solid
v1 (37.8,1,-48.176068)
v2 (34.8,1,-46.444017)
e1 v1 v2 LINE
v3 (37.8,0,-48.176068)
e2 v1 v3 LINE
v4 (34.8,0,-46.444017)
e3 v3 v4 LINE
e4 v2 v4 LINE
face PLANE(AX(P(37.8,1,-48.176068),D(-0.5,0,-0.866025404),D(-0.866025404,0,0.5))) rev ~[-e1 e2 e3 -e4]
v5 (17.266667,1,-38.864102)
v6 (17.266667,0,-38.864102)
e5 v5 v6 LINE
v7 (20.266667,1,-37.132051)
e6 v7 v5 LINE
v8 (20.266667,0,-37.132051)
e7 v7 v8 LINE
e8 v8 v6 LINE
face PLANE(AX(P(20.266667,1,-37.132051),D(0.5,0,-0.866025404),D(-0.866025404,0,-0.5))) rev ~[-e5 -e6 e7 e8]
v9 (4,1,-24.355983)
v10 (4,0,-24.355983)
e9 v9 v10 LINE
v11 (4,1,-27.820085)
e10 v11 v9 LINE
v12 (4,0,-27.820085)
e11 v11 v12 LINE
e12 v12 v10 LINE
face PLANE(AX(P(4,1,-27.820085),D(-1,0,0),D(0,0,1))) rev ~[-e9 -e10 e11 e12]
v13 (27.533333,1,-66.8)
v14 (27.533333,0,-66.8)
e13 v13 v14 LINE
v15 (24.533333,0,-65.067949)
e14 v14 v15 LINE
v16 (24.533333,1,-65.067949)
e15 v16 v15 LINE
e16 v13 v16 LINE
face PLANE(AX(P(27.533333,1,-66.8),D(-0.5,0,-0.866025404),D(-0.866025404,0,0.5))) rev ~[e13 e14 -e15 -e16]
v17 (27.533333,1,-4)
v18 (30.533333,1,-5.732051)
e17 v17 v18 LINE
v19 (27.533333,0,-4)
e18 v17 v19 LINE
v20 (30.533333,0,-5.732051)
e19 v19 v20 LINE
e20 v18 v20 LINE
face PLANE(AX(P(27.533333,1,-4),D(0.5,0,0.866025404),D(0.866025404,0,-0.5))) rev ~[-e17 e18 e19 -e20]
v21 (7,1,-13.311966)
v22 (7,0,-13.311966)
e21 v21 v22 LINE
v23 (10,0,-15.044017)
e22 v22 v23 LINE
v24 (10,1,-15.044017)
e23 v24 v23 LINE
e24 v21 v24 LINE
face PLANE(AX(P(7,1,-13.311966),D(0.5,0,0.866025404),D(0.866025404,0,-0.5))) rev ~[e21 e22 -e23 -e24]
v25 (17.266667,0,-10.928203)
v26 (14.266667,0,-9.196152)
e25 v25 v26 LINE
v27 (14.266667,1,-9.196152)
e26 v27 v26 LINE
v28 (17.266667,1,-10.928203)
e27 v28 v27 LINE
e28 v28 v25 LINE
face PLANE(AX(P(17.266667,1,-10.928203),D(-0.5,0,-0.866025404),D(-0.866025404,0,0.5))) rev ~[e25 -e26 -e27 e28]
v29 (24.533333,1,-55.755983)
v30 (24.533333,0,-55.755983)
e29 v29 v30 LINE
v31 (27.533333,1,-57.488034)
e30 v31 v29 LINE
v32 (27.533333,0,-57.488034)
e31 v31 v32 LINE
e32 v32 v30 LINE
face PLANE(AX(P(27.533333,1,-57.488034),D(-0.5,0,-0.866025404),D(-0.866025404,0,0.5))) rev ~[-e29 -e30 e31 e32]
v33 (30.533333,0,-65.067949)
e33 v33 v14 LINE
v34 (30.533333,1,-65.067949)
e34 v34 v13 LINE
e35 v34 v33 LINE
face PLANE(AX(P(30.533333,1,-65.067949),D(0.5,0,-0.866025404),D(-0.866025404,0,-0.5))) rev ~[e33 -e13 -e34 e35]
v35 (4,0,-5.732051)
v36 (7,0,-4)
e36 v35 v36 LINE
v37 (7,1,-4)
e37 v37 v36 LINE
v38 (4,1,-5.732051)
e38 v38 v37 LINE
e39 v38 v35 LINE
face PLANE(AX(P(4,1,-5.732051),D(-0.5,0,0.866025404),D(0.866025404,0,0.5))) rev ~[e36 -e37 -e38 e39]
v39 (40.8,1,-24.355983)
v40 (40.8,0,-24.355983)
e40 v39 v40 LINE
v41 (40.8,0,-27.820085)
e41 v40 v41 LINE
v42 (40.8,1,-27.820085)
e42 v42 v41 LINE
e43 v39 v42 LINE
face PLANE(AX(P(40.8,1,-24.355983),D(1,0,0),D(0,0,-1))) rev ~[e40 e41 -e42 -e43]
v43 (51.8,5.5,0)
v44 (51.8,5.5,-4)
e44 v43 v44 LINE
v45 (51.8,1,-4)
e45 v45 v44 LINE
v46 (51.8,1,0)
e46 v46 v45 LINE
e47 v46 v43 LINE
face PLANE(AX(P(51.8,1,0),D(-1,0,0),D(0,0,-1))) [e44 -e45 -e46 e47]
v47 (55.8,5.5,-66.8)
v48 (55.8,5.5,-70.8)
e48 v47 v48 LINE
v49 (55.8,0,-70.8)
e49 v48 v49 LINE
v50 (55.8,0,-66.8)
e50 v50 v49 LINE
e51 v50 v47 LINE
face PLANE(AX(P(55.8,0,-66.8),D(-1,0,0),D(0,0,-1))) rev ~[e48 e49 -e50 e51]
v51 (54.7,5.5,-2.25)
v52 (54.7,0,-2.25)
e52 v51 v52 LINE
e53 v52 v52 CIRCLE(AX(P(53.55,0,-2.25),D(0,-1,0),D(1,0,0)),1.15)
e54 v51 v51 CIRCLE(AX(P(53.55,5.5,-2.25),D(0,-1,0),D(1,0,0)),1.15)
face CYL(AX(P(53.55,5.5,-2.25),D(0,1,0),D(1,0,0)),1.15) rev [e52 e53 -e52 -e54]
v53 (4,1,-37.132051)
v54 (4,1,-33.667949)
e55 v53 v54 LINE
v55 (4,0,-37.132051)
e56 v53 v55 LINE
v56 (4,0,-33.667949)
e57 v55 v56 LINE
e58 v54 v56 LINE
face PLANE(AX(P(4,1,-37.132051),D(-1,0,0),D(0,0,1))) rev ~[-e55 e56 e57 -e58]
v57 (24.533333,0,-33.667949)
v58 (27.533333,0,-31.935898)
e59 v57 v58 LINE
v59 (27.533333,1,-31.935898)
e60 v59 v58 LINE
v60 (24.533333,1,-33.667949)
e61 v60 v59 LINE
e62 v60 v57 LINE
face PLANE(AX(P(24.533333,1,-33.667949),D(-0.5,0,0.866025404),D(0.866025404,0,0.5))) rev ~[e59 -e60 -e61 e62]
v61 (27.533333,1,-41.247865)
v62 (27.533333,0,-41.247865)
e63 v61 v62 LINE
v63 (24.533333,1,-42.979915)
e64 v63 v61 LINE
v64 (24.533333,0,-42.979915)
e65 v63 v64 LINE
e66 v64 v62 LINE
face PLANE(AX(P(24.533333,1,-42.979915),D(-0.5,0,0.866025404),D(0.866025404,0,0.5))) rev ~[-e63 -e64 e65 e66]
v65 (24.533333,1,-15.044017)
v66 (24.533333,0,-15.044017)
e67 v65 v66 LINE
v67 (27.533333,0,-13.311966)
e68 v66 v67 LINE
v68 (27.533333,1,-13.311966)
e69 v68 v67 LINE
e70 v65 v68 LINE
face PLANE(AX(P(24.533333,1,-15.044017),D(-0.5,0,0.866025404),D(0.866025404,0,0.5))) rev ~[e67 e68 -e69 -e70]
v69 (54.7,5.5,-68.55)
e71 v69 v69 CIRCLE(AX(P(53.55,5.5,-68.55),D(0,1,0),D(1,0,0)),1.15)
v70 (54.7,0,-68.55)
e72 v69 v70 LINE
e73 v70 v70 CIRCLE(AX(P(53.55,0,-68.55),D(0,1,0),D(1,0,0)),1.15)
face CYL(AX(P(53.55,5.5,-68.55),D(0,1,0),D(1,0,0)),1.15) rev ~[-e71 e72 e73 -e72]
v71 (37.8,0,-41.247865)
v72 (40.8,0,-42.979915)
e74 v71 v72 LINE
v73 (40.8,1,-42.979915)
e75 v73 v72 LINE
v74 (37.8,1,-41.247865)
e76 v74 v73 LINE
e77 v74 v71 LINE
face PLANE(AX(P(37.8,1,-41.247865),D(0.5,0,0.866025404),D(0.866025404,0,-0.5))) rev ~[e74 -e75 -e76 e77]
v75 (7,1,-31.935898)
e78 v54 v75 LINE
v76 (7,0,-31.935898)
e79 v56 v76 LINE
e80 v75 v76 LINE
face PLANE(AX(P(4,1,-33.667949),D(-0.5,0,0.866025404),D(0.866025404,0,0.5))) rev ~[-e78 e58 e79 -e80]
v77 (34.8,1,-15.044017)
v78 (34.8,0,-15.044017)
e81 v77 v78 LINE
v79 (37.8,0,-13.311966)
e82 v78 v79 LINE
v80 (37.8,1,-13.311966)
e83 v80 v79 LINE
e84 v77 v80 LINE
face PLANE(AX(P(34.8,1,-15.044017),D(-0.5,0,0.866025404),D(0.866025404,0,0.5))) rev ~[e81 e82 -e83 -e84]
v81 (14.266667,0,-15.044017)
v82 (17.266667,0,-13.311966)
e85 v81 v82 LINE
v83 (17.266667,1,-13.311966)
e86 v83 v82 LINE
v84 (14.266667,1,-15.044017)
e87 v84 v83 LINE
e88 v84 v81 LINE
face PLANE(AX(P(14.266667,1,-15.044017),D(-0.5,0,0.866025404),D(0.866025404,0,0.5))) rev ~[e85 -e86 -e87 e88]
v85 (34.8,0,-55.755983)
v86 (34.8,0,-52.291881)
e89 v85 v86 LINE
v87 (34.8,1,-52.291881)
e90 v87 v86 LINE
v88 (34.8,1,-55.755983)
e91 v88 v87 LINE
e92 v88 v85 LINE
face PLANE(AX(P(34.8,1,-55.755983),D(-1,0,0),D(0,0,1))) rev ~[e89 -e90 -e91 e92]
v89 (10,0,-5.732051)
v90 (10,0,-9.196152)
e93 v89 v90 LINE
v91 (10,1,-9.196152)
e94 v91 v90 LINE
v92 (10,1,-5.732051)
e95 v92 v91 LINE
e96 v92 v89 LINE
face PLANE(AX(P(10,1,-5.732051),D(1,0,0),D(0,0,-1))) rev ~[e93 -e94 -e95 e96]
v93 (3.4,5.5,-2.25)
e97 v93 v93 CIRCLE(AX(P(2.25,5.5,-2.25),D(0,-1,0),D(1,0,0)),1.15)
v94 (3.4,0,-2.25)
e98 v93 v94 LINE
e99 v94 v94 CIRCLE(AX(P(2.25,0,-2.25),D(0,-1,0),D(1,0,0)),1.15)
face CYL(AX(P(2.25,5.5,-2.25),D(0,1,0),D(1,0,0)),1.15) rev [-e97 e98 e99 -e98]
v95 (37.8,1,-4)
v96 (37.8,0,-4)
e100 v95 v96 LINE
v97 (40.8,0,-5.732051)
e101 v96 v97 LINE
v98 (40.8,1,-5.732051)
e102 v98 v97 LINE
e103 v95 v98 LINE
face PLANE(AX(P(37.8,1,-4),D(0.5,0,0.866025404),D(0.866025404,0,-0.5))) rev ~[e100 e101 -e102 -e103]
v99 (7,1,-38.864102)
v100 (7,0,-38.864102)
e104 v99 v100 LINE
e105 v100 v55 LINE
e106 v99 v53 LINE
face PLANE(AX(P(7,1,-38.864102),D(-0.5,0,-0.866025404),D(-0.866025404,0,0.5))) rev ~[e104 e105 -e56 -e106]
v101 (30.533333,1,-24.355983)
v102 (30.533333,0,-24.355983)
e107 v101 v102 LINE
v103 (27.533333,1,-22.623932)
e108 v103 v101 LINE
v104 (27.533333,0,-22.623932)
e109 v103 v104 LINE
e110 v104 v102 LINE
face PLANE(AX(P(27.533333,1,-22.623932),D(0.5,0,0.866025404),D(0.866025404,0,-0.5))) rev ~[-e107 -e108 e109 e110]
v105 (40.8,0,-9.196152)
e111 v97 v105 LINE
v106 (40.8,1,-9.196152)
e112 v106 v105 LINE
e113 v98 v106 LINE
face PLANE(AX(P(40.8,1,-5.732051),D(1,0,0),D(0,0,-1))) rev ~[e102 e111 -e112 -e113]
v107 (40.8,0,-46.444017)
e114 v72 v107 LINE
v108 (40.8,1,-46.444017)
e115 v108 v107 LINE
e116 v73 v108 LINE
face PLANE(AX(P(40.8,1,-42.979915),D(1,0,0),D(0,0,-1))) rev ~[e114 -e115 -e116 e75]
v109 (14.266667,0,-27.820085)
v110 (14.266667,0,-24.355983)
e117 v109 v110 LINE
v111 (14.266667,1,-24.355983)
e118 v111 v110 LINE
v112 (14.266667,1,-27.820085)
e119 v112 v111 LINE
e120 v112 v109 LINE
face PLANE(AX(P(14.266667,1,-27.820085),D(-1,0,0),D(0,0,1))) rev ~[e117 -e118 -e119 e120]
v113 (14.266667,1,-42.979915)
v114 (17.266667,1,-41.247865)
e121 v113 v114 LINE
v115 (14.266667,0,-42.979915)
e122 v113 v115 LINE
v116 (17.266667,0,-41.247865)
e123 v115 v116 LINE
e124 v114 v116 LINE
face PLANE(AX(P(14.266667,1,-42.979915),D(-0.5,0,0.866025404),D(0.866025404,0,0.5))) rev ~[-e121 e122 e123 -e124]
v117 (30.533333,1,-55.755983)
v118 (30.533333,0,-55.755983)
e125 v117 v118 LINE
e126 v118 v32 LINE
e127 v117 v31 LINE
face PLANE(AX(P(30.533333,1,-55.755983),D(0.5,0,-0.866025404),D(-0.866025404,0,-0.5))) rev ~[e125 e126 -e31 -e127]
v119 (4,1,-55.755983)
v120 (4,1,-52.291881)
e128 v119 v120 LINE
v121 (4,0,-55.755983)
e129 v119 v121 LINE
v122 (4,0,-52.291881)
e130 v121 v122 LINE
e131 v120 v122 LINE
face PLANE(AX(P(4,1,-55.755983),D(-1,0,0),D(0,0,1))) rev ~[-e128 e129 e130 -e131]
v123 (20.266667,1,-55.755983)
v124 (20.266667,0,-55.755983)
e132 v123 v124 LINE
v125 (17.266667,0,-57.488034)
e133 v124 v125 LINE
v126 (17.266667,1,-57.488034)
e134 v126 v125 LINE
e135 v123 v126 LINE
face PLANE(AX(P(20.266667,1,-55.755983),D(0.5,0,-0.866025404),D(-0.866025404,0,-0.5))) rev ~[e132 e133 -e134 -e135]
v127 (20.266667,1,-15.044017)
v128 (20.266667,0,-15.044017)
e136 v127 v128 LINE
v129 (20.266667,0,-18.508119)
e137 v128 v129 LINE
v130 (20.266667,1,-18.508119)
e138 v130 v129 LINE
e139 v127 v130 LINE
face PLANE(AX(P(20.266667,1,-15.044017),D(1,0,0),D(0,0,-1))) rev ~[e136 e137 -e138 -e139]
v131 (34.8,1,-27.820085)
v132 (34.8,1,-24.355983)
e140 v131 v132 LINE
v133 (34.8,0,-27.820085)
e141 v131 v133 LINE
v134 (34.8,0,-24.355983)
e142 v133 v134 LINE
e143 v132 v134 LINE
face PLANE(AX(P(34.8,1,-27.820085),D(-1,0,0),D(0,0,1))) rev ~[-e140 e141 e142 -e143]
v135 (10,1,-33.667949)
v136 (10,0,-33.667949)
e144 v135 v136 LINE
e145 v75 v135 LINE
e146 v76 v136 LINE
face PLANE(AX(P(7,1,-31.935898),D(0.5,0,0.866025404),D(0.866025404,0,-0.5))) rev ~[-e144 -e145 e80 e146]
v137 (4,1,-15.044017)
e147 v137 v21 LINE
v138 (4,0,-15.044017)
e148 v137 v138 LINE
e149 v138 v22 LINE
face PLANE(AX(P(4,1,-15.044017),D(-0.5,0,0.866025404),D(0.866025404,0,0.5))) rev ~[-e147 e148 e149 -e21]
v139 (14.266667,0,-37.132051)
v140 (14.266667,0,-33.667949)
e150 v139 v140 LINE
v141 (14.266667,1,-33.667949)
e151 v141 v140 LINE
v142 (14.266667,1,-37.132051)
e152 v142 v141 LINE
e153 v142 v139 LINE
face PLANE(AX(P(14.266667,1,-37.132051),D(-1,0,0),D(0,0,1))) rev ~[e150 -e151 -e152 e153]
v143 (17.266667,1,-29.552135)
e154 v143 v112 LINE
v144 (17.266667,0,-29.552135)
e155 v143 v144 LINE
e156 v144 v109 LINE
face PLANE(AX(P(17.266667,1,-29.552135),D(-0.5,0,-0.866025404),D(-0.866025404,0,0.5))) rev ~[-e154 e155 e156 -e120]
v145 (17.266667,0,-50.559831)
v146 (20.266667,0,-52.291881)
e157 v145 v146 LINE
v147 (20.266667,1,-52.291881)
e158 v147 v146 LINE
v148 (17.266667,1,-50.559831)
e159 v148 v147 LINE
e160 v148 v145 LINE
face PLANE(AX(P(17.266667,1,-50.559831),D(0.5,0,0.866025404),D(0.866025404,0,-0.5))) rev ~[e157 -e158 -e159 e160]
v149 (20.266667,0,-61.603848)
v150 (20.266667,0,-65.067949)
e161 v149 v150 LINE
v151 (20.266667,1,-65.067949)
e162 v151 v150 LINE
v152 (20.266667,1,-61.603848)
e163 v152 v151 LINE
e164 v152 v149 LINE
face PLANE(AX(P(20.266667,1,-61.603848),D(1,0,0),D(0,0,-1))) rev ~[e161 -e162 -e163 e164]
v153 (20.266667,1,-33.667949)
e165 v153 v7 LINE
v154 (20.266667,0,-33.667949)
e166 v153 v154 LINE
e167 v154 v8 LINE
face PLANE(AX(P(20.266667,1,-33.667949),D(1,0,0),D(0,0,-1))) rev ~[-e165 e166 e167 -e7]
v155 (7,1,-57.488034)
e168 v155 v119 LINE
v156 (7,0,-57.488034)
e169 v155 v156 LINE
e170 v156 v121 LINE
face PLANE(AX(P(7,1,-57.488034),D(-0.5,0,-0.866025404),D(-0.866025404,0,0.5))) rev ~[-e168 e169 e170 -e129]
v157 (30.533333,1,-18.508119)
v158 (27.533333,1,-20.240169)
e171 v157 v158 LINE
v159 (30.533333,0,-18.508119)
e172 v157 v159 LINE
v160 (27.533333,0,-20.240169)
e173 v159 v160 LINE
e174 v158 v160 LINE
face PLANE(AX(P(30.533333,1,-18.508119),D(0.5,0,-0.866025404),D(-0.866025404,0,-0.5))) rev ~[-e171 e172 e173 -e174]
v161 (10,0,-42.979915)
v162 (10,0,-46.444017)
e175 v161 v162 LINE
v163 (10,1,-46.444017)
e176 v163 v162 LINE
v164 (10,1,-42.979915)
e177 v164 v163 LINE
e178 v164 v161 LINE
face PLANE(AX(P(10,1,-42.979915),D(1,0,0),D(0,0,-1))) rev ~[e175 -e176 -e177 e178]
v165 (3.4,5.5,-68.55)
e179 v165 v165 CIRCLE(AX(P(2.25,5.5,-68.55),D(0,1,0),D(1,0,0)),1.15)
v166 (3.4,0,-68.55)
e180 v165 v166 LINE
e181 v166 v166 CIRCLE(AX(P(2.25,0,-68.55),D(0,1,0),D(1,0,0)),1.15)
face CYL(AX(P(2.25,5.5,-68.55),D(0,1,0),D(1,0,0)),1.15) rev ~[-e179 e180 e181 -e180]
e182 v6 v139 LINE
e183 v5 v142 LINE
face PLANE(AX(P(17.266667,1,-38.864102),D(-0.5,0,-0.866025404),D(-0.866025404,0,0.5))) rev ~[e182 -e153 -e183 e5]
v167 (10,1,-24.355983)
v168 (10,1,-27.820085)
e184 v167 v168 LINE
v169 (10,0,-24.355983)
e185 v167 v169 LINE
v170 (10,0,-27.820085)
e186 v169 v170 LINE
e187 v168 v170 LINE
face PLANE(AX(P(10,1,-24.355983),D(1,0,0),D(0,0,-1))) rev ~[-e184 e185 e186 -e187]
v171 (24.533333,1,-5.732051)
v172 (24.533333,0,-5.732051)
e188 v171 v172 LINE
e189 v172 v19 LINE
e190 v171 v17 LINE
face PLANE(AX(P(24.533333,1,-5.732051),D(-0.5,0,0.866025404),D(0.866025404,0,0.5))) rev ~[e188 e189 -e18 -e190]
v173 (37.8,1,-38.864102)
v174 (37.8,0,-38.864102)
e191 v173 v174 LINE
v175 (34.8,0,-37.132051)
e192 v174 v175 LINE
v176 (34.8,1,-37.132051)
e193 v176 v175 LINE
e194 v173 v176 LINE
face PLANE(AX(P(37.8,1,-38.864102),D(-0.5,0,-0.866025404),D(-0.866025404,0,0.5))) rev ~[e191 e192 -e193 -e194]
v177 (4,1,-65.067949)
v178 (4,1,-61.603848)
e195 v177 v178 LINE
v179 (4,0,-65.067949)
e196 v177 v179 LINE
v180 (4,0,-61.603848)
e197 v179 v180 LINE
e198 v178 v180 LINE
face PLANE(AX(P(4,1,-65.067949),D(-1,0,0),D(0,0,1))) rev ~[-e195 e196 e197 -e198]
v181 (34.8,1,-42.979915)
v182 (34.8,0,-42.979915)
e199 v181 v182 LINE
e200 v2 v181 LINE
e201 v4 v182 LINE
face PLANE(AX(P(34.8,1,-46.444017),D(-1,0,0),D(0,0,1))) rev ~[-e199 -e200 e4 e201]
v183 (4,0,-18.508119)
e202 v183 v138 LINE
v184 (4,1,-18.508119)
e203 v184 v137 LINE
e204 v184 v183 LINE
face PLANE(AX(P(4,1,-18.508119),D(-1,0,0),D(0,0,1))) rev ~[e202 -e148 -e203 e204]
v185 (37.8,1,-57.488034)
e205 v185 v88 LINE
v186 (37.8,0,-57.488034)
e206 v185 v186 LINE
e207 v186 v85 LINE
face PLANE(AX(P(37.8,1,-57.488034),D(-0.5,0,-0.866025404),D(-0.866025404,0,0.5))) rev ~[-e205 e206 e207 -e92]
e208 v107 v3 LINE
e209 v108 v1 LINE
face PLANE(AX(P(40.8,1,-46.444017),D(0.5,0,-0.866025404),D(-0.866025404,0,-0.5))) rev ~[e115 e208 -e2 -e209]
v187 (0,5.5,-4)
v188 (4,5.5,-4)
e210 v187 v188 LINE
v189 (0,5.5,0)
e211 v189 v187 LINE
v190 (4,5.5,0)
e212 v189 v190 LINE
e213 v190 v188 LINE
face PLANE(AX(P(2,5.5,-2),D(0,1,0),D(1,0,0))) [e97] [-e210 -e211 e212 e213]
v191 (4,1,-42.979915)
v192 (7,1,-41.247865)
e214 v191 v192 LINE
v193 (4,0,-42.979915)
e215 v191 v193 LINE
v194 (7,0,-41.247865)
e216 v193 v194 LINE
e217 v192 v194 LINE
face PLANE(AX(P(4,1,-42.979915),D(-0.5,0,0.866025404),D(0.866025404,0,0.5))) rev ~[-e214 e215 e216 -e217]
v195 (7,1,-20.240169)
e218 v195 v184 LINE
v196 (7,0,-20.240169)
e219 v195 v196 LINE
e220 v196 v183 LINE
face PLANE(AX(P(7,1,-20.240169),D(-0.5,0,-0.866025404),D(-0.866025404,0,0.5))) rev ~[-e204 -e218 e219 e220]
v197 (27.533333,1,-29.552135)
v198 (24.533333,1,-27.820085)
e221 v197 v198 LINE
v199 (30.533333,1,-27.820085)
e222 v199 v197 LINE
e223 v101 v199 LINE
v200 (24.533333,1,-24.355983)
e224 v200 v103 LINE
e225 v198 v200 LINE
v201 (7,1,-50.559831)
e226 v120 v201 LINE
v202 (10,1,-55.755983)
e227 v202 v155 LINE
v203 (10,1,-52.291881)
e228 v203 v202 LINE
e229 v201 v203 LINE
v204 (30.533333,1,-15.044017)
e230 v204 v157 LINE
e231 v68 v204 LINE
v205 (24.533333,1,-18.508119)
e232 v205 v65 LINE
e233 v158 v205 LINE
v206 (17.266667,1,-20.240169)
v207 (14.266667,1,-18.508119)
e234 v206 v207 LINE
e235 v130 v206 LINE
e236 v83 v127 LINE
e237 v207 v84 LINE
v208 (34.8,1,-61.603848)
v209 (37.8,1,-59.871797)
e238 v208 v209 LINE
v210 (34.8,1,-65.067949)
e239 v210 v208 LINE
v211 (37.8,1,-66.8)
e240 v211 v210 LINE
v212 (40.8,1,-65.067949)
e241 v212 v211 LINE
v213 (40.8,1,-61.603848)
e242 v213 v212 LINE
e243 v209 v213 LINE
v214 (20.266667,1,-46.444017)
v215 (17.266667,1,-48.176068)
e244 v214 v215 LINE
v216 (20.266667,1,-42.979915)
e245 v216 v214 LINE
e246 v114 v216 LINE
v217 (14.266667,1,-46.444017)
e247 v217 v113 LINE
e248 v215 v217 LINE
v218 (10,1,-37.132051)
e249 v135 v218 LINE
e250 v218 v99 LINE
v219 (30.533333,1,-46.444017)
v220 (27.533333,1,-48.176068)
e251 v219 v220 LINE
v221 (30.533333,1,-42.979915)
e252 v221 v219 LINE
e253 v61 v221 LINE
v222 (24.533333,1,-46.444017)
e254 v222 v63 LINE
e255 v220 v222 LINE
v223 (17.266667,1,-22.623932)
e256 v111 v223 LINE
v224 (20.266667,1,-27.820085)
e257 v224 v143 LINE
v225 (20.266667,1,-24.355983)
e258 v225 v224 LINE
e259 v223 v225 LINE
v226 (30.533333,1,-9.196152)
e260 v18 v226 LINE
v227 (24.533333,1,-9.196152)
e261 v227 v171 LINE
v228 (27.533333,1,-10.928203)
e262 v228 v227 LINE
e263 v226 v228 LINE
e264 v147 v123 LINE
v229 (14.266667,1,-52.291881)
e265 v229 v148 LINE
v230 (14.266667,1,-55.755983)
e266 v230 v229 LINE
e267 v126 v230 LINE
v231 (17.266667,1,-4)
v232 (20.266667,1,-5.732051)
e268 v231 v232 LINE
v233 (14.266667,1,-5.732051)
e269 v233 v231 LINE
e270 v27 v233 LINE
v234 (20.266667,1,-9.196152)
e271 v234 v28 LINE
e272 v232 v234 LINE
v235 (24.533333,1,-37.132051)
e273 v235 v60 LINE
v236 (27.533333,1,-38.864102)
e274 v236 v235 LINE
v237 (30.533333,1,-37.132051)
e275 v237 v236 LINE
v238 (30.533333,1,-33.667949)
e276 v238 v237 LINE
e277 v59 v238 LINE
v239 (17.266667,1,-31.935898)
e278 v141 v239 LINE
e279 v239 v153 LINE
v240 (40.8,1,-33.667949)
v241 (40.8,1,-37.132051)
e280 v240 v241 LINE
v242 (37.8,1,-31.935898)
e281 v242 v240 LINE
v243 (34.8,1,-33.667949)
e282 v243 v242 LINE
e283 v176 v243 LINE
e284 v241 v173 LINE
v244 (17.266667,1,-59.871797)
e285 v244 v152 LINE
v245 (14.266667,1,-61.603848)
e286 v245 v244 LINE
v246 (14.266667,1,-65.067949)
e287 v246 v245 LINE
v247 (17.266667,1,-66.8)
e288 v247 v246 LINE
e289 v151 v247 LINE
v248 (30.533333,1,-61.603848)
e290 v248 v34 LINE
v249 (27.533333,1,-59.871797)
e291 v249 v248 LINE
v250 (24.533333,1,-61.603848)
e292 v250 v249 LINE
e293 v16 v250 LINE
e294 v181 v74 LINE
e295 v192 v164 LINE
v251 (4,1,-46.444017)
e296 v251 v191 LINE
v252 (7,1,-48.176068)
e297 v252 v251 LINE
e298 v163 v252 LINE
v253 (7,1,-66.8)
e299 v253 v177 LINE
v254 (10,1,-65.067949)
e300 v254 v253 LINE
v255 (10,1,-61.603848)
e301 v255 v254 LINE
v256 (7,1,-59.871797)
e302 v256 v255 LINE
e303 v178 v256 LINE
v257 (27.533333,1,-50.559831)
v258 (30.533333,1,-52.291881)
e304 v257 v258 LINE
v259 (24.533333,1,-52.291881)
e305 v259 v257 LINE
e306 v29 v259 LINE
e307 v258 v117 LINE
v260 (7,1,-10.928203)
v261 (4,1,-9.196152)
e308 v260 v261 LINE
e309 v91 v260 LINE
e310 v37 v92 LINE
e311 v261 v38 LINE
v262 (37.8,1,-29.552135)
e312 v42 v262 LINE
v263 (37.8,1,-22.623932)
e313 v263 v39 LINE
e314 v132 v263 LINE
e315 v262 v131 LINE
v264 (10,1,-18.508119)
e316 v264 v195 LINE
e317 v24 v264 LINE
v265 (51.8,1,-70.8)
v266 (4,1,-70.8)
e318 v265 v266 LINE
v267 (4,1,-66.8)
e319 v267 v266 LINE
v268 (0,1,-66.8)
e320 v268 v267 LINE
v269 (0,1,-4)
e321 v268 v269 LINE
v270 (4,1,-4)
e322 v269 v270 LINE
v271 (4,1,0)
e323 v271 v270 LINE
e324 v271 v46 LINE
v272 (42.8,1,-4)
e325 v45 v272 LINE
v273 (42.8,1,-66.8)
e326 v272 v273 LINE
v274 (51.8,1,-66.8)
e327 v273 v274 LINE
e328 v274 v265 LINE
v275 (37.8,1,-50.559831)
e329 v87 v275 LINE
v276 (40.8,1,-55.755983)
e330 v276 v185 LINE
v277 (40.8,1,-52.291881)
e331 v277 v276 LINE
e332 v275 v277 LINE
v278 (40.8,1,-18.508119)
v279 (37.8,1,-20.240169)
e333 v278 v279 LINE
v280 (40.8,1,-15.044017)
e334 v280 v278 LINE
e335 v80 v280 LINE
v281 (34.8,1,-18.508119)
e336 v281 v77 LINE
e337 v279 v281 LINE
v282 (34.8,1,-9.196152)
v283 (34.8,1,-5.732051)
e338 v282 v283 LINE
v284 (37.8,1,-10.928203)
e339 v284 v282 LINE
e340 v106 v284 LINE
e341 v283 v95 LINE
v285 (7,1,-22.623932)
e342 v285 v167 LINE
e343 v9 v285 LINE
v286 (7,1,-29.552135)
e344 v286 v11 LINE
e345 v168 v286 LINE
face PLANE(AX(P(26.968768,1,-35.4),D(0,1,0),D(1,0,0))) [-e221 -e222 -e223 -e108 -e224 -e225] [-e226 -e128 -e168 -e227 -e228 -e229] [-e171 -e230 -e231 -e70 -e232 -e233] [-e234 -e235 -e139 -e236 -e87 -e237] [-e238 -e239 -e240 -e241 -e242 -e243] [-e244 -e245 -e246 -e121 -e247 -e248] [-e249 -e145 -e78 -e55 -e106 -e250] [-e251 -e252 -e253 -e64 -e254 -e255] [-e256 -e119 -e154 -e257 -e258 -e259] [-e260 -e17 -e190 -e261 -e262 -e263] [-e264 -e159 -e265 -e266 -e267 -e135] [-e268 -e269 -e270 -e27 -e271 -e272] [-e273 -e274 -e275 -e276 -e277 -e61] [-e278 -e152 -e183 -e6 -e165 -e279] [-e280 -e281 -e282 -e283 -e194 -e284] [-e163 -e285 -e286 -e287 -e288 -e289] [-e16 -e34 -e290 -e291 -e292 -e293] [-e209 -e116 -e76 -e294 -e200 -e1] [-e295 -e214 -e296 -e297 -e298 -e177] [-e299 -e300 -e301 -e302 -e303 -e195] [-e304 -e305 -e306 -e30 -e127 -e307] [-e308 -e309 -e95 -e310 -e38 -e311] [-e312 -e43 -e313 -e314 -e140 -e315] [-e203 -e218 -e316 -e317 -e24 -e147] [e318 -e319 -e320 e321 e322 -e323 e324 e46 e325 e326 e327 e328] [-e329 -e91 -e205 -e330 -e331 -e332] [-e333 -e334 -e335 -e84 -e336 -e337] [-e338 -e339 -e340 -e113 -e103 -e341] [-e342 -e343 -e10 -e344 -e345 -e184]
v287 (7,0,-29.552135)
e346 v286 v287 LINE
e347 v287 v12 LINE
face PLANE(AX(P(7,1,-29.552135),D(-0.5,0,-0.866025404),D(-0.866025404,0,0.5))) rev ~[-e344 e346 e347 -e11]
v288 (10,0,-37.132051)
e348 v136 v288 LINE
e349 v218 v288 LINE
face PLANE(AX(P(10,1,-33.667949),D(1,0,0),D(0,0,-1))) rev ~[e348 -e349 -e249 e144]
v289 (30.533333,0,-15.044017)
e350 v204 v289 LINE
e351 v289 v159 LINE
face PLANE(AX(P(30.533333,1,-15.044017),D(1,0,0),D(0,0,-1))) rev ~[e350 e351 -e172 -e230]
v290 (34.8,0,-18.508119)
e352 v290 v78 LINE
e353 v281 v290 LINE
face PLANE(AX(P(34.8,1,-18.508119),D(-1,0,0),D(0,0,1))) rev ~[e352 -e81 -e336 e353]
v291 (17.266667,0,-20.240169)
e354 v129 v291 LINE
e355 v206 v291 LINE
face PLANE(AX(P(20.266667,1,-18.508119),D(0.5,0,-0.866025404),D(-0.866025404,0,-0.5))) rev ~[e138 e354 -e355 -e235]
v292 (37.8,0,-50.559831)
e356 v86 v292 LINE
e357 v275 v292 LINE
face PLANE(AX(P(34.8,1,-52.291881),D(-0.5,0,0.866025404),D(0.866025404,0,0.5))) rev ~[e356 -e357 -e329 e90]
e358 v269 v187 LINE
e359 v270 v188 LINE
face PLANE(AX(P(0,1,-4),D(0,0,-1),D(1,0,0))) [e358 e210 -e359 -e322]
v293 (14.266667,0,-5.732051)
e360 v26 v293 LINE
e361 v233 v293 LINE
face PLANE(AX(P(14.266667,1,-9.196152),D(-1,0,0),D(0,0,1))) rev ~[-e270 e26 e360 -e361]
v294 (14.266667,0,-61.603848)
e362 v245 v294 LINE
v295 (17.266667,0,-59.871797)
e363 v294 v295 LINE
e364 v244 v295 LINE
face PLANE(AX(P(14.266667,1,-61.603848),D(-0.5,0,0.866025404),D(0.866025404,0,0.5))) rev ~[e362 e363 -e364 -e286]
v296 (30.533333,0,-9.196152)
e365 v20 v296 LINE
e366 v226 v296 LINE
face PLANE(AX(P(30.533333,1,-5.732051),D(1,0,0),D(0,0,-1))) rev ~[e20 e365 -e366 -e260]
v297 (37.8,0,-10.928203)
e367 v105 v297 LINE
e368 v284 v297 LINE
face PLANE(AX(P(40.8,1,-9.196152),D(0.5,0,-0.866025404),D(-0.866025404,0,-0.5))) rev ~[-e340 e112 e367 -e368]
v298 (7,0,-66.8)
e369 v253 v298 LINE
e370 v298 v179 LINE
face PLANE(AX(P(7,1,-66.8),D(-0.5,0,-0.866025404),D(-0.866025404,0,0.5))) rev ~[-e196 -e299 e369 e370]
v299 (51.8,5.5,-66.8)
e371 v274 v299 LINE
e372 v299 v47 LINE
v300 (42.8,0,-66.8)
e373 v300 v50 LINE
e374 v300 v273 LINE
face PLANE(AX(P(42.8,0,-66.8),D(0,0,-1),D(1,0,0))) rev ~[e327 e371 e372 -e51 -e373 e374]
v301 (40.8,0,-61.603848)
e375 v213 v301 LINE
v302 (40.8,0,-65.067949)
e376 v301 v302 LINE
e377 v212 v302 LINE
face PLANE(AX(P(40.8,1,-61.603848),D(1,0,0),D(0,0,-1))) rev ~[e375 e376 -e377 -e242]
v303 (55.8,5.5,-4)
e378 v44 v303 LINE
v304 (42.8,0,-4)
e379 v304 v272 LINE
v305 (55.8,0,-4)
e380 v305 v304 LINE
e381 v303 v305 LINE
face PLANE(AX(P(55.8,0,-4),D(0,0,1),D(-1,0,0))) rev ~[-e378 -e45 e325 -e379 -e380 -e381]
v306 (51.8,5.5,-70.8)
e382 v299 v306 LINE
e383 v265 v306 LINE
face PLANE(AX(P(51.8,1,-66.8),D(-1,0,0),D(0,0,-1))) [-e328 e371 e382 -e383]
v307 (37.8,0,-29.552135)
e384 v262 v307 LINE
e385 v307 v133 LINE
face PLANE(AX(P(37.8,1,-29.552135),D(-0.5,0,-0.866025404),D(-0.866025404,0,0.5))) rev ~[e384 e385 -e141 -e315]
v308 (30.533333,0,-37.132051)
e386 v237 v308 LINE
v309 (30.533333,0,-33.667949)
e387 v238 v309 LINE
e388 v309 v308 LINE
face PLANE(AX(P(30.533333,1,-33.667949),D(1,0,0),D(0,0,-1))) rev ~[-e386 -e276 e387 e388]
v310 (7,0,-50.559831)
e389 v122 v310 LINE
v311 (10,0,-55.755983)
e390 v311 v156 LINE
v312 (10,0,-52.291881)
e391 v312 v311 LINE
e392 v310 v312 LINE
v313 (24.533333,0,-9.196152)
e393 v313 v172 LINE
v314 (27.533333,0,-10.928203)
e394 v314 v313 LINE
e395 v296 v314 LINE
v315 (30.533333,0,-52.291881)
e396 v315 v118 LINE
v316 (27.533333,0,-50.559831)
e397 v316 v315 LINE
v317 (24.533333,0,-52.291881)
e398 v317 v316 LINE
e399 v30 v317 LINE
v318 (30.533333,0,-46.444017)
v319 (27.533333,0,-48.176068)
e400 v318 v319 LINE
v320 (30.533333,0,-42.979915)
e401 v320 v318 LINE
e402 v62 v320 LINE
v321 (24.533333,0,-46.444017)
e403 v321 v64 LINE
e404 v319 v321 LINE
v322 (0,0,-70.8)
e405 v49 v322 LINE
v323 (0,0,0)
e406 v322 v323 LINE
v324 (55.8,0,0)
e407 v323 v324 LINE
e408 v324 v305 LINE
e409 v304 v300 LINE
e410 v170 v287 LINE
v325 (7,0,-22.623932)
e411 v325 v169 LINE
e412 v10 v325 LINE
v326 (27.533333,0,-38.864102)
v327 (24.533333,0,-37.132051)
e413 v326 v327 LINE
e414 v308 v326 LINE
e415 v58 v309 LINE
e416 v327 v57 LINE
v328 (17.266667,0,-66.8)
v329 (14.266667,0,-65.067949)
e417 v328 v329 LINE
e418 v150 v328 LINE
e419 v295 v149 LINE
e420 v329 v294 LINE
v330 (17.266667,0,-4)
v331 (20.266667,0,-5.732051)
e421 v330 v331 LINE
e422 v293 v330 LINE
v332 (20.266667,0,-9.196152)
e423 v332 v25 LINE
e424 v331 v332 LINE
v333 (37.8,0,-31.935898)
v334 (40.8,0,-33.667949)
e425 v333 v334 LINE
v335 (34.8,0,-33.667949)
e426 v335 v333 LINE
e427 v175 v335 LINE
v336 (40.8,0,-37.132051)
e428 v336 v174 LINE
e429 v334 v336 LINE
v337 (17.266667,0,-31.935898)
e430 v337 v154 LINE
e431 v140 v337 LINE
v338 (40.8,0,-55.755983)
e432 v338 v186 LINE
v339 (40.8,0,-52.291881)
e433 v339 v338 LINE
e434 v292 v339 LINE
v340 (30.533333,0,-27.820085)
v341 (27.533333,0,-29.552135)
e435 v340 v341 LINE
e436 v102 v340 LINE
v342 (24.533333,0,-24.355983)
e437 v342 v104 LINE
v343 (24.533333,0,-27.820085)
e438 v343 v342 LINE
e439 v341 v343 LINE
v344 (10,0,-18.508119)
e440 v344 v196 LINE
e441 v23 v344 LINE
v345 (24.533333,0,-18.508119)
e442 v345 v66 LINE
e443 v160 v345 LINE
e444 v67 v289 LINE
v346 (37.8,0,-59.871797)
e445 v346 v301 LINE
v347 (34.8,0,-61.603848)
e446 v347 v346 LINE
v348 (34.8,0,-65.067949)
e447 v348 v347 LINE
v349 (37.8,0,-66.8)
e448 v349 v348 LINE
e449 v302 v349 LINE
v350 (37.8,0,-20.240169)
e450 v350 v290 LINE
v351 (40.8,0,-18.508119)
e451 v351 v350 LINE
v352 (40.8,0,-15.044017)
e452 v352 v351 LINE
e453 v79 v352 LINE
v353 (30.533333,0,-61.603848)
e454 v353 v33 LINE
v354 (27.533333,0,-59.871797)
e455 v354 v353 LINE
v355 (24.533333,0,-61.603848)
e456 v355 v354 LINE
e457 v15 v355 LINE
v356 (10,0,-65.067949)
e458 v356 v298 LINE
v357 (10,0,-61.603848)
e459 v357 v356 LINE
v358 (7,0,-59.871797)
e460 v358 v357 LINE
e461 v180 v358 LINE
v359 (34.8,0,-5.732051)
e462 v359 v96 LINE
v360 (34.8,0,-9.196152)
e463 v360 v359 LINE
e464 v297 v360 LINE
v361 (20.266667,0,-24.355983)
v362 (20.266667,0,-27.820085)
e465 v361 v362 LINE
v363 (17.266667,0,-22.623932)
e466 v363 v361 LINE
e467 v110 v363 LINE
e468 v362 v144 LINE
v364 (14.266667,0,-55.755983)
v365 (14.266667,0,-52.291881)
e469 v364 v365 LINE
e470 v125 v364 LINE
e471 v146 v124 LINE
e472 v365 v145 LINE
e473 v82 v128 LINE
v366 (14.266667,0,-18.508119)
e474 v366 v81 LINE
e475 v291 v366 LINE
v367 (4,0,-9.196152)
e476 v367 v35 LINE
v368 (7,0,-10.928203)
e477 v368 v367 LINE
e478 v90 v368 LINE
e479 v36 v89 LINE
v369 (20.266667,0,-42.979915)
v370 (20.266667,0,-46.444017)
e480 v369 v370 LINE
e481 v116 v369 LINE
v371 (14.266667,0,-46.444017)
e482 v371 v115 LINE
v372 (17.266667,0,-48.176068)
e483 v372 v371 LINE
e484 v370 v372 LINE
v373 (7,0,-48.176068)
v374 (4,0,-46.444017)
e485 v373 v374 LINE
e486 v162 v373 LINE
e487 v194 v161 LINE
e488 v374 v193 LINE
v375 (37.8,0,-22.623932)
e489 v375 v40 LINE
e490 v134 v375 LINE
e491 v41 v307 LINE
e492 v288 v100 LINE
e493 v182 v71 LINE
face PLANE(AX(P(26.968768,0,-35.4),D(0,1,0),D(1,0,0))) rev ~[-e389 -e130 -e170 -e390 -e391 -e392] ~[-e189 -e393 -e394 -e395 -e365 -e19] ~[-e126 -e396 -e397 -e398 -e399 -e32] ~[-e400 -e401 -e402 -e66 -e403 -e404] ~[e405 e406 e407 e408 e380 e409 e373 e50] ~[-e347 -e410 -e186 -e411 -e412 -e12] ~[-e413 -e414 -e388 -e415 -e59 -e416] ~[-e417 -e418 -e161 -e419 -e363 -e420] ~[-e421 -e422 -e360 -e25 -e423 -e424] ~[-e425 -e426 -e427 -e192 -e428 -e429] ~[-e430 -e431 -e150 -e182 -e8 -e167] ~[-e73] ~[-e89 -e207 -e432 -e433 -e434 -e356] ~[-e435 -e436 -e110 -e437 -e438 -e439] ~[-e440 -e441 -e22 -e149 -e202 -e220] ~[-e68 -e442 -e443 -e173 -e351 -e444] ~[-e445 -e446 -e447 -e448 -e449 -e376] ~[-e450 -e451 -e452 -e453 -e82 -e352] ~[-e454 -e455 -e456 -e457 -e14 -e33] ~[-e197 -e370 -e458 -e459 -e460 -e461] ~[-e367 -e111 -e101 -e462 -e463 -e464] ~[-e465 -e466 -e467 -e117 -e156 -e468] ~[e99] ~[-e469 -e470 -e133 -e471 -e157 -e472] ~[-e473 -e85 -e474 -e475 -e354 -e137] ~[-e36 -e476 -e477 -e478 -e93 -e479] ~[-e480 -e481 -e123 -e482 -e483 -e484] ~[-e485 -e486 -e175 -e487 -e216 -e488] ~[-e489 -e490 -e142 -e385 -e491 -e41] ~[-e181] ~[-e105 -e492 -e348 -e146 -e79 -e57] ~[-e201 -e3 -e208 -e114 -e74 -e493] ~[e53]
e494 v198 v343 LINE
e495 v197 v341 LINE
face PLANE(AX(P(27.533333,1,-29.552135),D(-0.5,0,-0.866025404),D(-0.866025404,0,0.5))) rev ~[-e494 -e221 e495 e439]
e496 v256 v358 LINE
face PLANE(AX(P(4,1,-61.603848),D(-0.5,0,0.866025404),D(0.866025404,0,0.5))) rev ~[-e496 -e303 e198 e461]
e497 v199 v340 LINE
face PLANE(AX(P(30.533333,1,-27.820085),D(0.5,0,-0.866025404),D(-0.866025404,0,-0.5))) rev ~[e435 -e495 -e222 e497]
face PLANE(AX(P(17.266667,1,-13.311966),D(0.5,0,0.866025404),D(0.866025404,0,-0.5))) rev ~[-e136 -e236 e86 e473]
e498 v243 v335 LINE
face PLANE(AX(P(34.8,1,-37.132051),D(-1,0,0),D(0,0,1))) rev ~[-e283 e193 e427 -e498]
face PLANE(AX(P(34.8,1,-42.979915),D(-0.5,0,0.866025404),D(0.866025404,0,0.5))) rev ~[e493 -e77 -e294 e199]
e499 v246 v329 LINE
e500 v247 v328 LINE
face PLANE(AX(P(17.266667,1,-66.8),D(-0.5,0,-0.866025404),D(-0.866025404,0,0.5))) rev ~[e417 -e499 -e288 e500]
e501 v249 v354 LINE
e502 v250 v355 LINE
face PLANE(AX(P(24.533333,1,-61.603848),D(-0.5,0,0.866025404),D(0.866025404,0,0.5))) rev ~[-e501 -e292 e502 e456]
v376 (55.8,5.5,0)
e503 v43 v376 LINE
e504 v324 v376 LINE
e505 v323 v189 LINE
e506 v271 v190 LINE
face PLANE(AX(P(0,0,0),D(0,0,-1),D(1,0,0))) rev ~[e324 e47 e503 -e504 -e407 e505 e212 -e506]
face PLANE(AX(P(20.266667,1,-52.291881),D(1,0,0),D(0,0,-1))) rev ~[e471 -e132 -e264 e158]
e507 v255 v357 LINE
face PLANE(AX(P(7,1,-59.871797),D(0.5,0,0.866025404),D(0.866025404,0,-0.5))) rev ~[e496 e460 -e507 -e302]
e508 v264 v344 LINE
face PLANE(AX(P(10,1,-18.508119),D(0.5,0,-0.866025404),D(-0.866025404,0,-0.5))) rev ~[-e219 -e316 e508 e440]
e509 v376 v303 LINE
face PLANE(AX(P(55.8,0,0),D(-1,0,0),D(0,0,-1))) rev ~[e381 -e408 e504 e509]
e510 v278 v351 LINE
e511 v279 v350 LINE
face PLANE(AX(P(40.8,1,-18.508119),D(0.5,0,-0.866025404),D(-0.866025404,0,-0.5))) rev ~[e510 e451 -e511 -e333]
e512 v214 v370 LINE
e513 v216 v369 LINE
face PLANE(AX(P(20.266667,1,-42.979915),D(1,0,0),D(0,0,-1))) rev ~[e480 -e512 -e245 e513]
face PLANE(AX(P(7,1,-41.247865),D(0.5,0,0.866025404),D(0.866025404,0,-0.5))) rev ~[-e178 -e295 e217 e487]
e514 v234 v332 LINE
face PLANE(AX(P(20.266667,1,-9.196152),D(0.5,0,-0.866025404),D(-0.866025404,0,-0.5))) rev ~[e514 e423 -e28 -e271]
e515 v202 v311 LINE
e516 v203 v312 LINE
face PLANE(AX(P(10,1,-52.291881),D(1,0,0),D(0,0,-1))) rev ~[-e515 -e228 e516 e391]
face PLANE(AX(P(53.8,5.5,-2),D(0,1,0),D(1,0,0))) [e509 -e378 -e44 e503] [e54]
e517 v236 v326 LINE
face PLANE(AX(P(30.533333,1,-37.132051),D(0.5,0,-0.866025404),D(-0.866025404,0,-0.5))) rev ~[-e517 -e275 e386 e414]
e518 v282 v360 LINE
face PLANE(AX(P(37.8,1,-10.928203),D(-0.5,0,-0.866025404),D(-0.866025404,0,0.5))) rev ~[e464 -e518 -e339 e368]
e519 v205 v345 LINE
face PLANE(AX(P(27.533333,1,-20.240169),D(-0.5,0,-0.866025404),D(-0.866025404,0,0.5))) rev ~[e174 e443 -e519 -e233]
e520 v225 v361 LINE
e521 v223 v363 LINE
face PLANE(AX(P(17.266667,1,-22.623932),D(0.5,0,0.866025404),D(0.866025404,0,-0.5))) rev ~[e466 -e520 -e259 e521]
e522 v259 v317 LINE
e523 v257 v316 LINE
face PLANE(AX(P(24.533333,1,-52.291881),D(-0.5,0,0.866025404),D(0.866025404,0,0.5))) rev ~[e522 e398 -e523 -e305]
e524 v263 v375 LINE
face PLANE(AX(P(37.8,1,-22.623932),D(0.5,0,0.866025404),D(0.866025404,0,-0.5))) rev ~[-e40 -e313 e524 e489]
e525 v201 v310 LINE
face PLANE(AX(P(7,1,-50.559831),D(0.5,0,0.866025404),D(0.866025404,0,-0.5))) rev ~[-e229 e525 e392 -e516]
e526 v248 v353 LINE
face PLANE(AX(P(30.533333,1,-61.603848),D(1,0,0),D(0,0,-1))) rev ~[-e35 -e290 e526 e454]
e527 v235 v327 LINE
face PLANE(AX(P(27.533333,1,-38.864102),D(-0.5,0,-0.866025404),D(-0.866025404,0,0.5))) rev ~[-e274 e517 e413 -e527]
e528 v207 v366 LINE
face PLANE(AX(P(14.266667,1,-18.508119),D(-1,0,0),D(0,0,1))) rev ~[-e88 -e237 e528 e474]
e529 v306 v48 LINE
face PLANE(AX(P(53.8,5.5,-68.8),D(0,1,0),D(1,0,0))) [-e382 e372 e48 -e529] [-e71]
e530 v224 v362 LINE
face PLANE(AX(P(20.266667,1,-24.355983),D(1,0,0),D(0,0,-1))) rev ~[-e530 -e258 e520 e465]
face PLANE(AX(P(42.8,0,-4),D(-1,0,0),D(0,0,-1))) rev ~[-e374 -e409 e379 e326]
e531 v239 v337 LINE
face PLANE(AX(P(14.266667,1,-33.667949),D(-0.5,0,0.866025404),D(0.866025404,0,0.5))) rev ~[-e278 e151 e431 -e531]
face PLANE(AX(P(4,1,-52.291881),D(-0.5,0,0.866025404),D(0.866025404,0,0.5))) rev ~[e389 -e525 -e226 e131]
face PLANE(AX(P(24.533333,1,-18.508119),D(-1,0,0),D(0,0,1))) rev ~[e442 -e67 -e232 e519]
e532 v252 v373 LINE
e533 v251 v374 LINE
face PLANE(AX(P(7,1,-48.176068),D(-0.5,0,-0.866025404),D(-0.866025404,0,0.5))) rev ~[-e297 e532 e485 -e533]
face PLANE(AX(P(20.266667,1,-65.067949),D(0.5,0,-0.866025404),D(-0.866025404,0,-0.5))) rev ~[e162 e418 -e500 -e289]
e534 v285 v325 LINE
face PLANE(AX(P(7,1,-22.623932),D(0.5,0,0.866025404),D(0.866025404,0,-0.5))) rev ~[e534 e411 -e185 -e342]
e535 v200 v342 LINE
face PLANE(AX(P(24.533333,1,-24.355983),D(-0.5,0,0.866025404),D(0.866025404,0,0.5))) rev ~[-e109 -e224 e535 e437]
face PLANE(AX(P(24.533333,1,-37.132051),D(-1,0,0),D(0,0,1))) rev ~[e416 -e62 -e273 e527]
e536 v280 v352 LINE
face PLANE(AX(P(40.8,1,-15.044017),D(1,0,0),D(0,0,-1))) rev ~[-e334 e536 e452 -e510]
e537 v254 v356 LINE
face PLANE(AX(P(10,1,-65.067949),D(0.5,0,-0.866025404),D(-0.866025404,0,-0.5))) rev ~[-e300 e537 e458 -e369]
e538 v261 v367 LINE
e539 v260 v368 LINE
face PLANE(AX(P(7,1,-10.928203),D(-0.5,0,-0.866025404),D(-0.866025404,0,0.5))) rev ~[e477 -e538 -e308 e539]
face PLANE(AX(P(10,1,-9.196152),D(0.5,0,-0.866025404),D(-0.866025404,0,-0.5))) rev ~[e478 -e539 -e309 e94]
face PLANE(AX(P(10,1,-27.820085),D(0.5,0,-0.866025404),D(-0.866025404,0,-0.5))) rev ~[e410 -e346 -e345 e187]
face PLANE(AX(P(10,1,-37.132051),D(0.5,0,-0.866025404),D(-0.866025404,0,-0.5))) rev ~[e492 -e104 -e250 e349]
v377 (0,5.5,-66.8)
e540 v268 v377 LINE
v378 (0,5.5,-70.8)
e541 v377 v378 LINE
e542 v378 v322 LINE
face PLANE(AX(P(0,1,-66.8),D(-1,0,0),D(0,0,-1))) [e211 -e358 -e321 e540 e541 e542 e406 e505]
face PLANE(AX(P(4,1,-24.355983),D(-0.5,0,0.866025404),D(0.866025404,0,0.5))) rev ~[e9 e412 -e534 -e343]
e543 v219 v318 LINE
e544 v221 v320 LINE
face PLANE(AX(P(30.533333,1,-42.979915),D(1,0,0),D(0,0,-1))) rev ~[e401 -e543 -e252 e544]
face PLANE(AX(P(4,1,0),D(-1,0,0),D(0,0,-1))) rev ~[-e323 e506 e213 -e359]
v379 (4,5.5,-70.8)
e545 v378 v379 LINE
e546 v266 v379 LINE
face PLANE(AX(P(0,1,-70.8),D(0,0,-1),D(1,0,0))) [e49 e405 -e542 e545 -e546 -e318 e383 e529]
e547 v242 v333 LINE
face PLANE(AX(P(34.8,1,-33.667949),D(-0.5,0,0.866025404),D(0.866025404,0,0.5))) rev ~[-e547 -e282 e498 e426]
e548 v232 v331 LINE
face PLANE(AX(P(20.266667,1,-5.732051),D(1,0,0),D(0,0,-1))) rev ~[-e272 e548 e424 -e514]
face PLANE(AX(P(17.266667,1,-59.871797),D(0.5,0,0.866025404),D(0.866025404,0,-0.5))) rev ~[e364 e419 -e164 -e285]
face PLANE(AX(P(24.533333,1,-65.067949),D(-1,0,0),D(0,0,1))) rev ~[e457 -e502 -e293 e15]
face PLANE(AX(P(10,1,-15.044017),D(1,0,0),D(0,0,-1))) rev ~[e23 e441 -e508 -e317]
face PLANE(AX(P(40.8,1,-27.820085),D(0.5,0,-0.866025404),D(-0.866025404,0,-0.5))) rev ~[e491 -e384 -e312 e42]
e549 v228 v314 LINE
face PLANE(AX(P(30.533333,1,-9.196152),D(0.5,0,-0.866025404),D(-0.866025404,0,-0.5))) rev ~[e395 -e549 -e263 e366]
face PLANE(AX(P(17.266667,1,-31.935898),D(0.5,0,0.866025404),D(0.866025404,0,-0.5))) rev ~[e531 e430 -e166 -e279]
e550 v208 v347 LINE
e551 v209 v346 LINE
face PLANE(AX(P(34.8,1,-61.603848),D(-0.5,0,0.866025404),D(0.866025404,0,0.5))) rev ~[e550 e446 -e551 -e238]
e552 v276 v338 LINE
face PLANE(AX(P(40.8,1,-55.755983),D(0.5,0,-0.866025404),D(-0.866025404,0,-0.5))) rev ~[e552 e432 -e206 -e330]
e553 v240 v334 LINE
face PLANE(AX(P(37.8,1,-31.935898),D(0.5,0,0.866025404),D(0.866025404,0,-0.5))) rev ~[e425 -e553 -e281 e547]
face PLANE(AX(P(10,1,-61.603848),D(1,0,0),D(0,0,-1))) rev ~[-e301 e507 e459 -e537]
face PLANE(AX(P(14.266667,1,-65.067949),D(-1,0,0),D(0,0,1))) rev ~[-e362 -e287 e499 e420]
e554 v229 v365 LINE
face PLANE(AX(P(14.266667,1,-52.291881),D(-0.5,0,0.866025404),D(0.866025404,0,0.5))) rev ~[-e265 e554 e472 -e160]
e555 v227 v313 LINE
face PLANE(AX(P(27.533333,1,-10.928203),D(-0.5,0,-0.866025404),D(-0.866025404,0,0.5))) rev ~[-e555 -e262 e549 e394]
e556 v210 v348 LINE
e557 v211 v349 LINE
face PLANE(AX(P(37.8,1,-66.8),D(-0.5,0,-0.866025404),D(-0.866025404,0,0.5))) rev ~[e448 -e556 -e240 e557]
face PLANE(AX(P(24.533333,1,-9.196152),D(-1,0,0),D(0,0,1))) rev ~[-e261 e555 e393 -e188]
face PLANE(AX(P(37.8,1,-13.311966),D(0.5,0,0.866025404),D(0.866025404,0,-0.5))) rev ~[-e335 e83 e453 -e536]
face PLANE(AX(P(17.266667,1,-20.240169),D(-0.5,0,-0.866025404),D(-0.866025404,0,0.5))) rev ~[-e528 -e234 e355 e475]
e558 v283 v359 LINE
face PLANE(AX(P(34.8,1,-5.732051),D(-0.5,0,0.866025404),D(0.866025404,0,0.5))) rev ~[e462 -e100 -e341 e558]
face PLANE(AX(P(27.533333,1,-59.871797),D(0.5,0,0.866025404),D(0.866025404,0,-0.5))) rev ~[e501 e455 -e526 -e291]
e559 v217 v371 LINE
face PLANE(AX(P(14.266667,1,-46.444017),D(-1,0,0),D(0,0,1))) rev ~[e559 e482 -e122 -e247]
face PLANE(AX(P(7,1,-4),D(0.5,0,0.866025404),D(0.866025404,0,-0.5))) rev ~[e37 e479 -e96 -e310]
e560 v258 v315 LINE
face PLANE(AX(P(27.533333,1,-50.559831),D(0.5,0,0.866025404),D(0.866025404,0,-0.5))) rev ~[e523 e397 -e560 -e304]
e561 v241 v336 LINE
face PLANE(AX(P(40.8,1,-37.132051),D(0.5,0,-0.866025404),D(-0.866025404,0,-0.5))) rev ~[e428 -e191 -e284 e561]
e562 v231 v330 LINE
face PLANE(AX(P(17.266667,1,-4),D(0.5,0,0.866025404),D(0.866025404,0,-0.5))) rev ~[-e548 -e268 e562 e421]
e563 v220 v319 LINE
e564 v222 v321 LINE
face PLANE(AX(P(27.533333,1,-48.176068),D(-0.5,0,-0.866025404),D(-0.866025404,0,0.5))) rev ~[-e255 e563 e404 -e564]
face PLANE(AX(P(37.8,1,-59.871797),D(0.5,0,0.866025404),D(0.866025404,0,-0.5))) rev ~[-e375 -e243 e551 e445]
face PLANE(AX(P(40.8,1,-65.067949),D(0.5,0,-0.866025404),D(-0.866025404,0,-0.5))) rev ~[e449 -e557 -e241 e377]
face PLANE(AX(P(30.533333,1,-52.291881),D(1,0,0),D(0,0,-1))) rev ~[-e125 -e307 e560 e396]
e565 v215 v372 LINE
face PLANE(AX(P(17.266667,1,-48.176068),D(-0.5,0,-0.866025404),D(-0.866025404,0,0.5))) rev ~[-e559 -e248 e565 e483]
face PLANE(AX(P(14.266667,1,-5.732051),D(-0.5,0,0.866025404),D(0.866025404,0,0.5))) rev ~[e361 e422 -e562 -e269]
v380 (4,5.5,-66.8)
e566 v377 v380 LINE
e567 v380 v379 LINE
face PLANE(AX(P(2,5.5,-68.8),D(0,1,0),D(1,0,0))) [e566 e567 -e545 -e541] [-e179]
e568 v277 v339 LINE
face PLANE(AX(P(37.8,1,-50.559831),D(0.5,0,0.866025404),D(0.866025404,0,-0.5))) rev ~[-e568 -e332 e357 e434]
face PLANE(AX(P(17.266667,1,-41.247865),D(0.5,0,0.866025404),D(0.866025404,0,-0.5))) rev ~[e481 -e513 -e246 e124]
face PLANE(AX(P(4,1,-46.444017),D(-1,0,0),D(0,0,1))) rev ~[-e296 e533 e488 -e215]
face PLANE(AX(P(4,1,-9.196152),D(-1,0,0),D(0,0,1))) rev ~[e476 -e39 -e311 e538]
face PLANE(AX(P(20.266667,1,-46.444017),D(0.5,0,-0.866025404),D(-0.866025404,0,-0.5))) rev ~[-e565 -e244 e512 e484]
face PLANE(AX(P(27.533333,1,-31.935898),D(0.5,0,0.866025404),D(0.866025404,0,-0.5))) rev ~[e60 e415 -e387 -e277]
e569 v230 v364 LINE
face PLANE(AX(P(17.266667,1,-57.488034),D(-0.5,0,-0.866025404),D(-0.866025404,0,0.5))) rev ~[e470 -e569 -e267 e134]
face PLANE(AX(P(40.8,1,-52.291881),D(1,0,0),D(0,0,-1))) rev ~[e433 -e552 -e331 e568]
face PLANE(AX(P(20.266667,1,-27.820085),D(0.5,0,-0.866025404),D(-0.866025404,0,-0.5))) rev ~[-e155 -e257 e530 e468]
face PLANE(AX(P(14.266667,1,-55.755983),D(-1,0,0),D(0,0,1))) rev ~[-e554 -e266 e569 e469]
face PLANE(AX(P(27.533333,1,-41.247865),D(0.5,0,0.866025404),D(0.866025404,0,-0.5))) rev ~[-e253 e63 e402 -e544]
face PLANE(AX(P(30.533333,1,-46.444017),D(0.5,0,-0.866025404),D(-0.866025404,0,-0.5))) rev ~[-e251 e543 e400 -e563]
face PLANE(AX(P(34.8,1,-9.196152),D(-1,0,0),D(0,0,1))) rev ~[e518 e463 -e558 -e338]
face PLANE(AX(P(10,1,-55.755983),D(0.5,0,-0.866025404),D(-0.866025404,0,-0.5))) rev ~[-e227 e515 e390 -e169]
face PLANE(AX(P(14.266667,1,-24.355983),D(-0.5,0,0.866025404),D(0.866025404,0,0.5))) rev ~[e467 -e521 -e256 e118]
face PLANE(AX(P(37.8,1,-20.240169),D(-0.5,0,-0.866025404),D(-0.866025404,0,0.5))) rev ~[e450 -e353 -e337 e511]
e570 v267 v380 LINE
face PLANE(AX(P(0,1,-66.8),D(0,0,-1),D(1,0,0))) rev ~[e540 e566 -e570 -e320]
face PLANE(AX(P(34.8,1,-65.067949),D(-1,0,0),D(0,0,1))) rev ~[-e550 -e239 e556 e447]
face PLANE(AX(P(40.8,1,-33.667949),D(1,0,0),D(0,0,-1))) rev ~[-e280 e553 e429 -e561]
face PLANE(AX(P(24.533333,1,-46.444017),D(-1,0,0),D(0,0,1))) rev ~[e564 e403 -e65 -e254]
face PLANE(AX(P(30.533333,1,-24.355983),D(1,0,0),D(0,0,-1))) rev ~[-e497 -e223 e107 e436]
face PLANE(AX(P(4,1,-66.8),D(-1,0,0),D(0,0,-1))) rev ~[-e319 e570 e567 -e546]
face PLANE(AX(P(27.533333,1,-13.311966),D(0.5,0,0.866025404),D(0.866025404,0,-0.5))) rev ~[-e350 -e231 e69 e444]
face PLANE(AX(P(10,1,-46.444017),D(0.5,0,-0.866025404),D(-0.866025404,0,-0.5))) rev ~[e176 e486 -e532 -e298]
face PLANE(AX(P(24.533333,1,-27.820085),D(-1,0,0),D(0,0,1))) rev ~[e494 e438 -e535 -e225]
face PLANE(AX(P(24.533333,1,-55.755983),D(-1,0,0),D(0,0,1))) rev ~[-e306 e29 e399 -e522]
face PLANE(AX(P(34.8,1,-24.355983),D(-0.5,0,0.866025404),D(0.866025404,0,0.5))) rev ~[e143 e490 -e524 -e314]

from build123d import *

# Parameters (mm, degrees)
BOSS_EXTRUDE1_DEPTH  = 1
CUT_EXTRUDE1_DEPTH   = 1
LPATTERN1_COUNT      = 4
LPATTERN1_PITCH      = 10.266666667
LPATTERN1_COUNT_DIR2 = 7
LPATTERN1_PITCH_DIR2 = 9.311966128
SKETCH3_W            = 4
SKETCH3_H            = 4
BOSS_EXTRUDE2_DEPTH  = 4.5
SKETCH4_R            = 1.15
CUT_EXTRUDE2_DEPTH   = 5.5


with BuildPart() as part:
    # Sketch1 → Boss-Extrude1 (new body)
    with BuildSketch(Plane(origin=(0, 0, 0), x_dir=(1, 0, 0), z_dir=(0, 1, 0))):
        Polygon((0, 0), (55.8, 0), (55.8, 4), (42.8, 4), (42.8, 66.8), (55.8, 66.8), (55.8, 70.8), (0, 70.8), align=None)
    extrude(amount=BOSS_EXTRUDE1_DEPTH)

    # Sketch2 → Cut-Extrude1 (cut)
    with BuildSketch(Plane(origin=(0, 1, 0), x_dir=(1, 0, 0), z_dir=(0, 1, 0))):
        Polygon((7, 66.8), (4, 65.067949192), (4, 61.603847577), (7, 59.87179677), (10, 61.603847577), (10, 65.067949192), align=None)
    cut_extrude1 = extrude(amount=-CUT_EXTRUDE1_DEPTH, mode=Mode.SUBTRACT)

    # LPattern1: Cut-Extrude1 4 × 7
    with Locations(*[(i * LPATTERN1_PITCH, 0, j * LPATTERN1_PITCH_DIR2) for i in range(LPATTERN1_COUNT) for j in range(LPATTERN1_COUNT_DIR2) if (i, j) != (0, 0)]):
        add(cut_extrude1, mode=Mode.SUBTRACT)

    # Sketch3 → Boss-Extrude2 (add)
    with BuildSketch(Plane(origin=(0, 1, 0), x_dir=(1, 0, 0), z_dir=(0, 1, 0))):
        with Locations((2, 68.8)):
            Rectangle(SKETCH3_W, SKETCH3_H)
        with Locations((53.8, 68.8)):
            Rectangle(SKETCH3_W, SKETCH3_H)
        with Locations((53.8, 2)):
            Rectangle(SKETCH3_W, SKETCH3_H)
        with Locations((2, 2)):
            Rectangle(SKETCH3_W, SKETCH3_H)
    extrude(amount=BOSS_EXTRUDE2_DEPTH)

    # Sketch4 → Cut-Extrude2 (cut)
    with BuildSketch(Plane(origin=(0, 5.5, 0), x_dir=(1, 0, 0), z_dir=(0, 1, 0))):
        with Locations((2.25, 68.55)):
            Circle(SKETCH4_R)
        with Locations((53.55, 68.55)):
            Circle(SKETCH4_R)
    cut_extrude2 = extrude(amount=-CUT_EXTRUDE2_DEPTH, mode=Mode.SUBTRACT)

    # Mirror1: Cut-Extrude2 across plane
    add(cut_extrude2.mirror(Plane(origin=(0, 0, -35.4), x_dir=(1, 0, 0), z_dir=(0, 0, -1))), mode=Mode.SUBTRACT)


solid = part.part
